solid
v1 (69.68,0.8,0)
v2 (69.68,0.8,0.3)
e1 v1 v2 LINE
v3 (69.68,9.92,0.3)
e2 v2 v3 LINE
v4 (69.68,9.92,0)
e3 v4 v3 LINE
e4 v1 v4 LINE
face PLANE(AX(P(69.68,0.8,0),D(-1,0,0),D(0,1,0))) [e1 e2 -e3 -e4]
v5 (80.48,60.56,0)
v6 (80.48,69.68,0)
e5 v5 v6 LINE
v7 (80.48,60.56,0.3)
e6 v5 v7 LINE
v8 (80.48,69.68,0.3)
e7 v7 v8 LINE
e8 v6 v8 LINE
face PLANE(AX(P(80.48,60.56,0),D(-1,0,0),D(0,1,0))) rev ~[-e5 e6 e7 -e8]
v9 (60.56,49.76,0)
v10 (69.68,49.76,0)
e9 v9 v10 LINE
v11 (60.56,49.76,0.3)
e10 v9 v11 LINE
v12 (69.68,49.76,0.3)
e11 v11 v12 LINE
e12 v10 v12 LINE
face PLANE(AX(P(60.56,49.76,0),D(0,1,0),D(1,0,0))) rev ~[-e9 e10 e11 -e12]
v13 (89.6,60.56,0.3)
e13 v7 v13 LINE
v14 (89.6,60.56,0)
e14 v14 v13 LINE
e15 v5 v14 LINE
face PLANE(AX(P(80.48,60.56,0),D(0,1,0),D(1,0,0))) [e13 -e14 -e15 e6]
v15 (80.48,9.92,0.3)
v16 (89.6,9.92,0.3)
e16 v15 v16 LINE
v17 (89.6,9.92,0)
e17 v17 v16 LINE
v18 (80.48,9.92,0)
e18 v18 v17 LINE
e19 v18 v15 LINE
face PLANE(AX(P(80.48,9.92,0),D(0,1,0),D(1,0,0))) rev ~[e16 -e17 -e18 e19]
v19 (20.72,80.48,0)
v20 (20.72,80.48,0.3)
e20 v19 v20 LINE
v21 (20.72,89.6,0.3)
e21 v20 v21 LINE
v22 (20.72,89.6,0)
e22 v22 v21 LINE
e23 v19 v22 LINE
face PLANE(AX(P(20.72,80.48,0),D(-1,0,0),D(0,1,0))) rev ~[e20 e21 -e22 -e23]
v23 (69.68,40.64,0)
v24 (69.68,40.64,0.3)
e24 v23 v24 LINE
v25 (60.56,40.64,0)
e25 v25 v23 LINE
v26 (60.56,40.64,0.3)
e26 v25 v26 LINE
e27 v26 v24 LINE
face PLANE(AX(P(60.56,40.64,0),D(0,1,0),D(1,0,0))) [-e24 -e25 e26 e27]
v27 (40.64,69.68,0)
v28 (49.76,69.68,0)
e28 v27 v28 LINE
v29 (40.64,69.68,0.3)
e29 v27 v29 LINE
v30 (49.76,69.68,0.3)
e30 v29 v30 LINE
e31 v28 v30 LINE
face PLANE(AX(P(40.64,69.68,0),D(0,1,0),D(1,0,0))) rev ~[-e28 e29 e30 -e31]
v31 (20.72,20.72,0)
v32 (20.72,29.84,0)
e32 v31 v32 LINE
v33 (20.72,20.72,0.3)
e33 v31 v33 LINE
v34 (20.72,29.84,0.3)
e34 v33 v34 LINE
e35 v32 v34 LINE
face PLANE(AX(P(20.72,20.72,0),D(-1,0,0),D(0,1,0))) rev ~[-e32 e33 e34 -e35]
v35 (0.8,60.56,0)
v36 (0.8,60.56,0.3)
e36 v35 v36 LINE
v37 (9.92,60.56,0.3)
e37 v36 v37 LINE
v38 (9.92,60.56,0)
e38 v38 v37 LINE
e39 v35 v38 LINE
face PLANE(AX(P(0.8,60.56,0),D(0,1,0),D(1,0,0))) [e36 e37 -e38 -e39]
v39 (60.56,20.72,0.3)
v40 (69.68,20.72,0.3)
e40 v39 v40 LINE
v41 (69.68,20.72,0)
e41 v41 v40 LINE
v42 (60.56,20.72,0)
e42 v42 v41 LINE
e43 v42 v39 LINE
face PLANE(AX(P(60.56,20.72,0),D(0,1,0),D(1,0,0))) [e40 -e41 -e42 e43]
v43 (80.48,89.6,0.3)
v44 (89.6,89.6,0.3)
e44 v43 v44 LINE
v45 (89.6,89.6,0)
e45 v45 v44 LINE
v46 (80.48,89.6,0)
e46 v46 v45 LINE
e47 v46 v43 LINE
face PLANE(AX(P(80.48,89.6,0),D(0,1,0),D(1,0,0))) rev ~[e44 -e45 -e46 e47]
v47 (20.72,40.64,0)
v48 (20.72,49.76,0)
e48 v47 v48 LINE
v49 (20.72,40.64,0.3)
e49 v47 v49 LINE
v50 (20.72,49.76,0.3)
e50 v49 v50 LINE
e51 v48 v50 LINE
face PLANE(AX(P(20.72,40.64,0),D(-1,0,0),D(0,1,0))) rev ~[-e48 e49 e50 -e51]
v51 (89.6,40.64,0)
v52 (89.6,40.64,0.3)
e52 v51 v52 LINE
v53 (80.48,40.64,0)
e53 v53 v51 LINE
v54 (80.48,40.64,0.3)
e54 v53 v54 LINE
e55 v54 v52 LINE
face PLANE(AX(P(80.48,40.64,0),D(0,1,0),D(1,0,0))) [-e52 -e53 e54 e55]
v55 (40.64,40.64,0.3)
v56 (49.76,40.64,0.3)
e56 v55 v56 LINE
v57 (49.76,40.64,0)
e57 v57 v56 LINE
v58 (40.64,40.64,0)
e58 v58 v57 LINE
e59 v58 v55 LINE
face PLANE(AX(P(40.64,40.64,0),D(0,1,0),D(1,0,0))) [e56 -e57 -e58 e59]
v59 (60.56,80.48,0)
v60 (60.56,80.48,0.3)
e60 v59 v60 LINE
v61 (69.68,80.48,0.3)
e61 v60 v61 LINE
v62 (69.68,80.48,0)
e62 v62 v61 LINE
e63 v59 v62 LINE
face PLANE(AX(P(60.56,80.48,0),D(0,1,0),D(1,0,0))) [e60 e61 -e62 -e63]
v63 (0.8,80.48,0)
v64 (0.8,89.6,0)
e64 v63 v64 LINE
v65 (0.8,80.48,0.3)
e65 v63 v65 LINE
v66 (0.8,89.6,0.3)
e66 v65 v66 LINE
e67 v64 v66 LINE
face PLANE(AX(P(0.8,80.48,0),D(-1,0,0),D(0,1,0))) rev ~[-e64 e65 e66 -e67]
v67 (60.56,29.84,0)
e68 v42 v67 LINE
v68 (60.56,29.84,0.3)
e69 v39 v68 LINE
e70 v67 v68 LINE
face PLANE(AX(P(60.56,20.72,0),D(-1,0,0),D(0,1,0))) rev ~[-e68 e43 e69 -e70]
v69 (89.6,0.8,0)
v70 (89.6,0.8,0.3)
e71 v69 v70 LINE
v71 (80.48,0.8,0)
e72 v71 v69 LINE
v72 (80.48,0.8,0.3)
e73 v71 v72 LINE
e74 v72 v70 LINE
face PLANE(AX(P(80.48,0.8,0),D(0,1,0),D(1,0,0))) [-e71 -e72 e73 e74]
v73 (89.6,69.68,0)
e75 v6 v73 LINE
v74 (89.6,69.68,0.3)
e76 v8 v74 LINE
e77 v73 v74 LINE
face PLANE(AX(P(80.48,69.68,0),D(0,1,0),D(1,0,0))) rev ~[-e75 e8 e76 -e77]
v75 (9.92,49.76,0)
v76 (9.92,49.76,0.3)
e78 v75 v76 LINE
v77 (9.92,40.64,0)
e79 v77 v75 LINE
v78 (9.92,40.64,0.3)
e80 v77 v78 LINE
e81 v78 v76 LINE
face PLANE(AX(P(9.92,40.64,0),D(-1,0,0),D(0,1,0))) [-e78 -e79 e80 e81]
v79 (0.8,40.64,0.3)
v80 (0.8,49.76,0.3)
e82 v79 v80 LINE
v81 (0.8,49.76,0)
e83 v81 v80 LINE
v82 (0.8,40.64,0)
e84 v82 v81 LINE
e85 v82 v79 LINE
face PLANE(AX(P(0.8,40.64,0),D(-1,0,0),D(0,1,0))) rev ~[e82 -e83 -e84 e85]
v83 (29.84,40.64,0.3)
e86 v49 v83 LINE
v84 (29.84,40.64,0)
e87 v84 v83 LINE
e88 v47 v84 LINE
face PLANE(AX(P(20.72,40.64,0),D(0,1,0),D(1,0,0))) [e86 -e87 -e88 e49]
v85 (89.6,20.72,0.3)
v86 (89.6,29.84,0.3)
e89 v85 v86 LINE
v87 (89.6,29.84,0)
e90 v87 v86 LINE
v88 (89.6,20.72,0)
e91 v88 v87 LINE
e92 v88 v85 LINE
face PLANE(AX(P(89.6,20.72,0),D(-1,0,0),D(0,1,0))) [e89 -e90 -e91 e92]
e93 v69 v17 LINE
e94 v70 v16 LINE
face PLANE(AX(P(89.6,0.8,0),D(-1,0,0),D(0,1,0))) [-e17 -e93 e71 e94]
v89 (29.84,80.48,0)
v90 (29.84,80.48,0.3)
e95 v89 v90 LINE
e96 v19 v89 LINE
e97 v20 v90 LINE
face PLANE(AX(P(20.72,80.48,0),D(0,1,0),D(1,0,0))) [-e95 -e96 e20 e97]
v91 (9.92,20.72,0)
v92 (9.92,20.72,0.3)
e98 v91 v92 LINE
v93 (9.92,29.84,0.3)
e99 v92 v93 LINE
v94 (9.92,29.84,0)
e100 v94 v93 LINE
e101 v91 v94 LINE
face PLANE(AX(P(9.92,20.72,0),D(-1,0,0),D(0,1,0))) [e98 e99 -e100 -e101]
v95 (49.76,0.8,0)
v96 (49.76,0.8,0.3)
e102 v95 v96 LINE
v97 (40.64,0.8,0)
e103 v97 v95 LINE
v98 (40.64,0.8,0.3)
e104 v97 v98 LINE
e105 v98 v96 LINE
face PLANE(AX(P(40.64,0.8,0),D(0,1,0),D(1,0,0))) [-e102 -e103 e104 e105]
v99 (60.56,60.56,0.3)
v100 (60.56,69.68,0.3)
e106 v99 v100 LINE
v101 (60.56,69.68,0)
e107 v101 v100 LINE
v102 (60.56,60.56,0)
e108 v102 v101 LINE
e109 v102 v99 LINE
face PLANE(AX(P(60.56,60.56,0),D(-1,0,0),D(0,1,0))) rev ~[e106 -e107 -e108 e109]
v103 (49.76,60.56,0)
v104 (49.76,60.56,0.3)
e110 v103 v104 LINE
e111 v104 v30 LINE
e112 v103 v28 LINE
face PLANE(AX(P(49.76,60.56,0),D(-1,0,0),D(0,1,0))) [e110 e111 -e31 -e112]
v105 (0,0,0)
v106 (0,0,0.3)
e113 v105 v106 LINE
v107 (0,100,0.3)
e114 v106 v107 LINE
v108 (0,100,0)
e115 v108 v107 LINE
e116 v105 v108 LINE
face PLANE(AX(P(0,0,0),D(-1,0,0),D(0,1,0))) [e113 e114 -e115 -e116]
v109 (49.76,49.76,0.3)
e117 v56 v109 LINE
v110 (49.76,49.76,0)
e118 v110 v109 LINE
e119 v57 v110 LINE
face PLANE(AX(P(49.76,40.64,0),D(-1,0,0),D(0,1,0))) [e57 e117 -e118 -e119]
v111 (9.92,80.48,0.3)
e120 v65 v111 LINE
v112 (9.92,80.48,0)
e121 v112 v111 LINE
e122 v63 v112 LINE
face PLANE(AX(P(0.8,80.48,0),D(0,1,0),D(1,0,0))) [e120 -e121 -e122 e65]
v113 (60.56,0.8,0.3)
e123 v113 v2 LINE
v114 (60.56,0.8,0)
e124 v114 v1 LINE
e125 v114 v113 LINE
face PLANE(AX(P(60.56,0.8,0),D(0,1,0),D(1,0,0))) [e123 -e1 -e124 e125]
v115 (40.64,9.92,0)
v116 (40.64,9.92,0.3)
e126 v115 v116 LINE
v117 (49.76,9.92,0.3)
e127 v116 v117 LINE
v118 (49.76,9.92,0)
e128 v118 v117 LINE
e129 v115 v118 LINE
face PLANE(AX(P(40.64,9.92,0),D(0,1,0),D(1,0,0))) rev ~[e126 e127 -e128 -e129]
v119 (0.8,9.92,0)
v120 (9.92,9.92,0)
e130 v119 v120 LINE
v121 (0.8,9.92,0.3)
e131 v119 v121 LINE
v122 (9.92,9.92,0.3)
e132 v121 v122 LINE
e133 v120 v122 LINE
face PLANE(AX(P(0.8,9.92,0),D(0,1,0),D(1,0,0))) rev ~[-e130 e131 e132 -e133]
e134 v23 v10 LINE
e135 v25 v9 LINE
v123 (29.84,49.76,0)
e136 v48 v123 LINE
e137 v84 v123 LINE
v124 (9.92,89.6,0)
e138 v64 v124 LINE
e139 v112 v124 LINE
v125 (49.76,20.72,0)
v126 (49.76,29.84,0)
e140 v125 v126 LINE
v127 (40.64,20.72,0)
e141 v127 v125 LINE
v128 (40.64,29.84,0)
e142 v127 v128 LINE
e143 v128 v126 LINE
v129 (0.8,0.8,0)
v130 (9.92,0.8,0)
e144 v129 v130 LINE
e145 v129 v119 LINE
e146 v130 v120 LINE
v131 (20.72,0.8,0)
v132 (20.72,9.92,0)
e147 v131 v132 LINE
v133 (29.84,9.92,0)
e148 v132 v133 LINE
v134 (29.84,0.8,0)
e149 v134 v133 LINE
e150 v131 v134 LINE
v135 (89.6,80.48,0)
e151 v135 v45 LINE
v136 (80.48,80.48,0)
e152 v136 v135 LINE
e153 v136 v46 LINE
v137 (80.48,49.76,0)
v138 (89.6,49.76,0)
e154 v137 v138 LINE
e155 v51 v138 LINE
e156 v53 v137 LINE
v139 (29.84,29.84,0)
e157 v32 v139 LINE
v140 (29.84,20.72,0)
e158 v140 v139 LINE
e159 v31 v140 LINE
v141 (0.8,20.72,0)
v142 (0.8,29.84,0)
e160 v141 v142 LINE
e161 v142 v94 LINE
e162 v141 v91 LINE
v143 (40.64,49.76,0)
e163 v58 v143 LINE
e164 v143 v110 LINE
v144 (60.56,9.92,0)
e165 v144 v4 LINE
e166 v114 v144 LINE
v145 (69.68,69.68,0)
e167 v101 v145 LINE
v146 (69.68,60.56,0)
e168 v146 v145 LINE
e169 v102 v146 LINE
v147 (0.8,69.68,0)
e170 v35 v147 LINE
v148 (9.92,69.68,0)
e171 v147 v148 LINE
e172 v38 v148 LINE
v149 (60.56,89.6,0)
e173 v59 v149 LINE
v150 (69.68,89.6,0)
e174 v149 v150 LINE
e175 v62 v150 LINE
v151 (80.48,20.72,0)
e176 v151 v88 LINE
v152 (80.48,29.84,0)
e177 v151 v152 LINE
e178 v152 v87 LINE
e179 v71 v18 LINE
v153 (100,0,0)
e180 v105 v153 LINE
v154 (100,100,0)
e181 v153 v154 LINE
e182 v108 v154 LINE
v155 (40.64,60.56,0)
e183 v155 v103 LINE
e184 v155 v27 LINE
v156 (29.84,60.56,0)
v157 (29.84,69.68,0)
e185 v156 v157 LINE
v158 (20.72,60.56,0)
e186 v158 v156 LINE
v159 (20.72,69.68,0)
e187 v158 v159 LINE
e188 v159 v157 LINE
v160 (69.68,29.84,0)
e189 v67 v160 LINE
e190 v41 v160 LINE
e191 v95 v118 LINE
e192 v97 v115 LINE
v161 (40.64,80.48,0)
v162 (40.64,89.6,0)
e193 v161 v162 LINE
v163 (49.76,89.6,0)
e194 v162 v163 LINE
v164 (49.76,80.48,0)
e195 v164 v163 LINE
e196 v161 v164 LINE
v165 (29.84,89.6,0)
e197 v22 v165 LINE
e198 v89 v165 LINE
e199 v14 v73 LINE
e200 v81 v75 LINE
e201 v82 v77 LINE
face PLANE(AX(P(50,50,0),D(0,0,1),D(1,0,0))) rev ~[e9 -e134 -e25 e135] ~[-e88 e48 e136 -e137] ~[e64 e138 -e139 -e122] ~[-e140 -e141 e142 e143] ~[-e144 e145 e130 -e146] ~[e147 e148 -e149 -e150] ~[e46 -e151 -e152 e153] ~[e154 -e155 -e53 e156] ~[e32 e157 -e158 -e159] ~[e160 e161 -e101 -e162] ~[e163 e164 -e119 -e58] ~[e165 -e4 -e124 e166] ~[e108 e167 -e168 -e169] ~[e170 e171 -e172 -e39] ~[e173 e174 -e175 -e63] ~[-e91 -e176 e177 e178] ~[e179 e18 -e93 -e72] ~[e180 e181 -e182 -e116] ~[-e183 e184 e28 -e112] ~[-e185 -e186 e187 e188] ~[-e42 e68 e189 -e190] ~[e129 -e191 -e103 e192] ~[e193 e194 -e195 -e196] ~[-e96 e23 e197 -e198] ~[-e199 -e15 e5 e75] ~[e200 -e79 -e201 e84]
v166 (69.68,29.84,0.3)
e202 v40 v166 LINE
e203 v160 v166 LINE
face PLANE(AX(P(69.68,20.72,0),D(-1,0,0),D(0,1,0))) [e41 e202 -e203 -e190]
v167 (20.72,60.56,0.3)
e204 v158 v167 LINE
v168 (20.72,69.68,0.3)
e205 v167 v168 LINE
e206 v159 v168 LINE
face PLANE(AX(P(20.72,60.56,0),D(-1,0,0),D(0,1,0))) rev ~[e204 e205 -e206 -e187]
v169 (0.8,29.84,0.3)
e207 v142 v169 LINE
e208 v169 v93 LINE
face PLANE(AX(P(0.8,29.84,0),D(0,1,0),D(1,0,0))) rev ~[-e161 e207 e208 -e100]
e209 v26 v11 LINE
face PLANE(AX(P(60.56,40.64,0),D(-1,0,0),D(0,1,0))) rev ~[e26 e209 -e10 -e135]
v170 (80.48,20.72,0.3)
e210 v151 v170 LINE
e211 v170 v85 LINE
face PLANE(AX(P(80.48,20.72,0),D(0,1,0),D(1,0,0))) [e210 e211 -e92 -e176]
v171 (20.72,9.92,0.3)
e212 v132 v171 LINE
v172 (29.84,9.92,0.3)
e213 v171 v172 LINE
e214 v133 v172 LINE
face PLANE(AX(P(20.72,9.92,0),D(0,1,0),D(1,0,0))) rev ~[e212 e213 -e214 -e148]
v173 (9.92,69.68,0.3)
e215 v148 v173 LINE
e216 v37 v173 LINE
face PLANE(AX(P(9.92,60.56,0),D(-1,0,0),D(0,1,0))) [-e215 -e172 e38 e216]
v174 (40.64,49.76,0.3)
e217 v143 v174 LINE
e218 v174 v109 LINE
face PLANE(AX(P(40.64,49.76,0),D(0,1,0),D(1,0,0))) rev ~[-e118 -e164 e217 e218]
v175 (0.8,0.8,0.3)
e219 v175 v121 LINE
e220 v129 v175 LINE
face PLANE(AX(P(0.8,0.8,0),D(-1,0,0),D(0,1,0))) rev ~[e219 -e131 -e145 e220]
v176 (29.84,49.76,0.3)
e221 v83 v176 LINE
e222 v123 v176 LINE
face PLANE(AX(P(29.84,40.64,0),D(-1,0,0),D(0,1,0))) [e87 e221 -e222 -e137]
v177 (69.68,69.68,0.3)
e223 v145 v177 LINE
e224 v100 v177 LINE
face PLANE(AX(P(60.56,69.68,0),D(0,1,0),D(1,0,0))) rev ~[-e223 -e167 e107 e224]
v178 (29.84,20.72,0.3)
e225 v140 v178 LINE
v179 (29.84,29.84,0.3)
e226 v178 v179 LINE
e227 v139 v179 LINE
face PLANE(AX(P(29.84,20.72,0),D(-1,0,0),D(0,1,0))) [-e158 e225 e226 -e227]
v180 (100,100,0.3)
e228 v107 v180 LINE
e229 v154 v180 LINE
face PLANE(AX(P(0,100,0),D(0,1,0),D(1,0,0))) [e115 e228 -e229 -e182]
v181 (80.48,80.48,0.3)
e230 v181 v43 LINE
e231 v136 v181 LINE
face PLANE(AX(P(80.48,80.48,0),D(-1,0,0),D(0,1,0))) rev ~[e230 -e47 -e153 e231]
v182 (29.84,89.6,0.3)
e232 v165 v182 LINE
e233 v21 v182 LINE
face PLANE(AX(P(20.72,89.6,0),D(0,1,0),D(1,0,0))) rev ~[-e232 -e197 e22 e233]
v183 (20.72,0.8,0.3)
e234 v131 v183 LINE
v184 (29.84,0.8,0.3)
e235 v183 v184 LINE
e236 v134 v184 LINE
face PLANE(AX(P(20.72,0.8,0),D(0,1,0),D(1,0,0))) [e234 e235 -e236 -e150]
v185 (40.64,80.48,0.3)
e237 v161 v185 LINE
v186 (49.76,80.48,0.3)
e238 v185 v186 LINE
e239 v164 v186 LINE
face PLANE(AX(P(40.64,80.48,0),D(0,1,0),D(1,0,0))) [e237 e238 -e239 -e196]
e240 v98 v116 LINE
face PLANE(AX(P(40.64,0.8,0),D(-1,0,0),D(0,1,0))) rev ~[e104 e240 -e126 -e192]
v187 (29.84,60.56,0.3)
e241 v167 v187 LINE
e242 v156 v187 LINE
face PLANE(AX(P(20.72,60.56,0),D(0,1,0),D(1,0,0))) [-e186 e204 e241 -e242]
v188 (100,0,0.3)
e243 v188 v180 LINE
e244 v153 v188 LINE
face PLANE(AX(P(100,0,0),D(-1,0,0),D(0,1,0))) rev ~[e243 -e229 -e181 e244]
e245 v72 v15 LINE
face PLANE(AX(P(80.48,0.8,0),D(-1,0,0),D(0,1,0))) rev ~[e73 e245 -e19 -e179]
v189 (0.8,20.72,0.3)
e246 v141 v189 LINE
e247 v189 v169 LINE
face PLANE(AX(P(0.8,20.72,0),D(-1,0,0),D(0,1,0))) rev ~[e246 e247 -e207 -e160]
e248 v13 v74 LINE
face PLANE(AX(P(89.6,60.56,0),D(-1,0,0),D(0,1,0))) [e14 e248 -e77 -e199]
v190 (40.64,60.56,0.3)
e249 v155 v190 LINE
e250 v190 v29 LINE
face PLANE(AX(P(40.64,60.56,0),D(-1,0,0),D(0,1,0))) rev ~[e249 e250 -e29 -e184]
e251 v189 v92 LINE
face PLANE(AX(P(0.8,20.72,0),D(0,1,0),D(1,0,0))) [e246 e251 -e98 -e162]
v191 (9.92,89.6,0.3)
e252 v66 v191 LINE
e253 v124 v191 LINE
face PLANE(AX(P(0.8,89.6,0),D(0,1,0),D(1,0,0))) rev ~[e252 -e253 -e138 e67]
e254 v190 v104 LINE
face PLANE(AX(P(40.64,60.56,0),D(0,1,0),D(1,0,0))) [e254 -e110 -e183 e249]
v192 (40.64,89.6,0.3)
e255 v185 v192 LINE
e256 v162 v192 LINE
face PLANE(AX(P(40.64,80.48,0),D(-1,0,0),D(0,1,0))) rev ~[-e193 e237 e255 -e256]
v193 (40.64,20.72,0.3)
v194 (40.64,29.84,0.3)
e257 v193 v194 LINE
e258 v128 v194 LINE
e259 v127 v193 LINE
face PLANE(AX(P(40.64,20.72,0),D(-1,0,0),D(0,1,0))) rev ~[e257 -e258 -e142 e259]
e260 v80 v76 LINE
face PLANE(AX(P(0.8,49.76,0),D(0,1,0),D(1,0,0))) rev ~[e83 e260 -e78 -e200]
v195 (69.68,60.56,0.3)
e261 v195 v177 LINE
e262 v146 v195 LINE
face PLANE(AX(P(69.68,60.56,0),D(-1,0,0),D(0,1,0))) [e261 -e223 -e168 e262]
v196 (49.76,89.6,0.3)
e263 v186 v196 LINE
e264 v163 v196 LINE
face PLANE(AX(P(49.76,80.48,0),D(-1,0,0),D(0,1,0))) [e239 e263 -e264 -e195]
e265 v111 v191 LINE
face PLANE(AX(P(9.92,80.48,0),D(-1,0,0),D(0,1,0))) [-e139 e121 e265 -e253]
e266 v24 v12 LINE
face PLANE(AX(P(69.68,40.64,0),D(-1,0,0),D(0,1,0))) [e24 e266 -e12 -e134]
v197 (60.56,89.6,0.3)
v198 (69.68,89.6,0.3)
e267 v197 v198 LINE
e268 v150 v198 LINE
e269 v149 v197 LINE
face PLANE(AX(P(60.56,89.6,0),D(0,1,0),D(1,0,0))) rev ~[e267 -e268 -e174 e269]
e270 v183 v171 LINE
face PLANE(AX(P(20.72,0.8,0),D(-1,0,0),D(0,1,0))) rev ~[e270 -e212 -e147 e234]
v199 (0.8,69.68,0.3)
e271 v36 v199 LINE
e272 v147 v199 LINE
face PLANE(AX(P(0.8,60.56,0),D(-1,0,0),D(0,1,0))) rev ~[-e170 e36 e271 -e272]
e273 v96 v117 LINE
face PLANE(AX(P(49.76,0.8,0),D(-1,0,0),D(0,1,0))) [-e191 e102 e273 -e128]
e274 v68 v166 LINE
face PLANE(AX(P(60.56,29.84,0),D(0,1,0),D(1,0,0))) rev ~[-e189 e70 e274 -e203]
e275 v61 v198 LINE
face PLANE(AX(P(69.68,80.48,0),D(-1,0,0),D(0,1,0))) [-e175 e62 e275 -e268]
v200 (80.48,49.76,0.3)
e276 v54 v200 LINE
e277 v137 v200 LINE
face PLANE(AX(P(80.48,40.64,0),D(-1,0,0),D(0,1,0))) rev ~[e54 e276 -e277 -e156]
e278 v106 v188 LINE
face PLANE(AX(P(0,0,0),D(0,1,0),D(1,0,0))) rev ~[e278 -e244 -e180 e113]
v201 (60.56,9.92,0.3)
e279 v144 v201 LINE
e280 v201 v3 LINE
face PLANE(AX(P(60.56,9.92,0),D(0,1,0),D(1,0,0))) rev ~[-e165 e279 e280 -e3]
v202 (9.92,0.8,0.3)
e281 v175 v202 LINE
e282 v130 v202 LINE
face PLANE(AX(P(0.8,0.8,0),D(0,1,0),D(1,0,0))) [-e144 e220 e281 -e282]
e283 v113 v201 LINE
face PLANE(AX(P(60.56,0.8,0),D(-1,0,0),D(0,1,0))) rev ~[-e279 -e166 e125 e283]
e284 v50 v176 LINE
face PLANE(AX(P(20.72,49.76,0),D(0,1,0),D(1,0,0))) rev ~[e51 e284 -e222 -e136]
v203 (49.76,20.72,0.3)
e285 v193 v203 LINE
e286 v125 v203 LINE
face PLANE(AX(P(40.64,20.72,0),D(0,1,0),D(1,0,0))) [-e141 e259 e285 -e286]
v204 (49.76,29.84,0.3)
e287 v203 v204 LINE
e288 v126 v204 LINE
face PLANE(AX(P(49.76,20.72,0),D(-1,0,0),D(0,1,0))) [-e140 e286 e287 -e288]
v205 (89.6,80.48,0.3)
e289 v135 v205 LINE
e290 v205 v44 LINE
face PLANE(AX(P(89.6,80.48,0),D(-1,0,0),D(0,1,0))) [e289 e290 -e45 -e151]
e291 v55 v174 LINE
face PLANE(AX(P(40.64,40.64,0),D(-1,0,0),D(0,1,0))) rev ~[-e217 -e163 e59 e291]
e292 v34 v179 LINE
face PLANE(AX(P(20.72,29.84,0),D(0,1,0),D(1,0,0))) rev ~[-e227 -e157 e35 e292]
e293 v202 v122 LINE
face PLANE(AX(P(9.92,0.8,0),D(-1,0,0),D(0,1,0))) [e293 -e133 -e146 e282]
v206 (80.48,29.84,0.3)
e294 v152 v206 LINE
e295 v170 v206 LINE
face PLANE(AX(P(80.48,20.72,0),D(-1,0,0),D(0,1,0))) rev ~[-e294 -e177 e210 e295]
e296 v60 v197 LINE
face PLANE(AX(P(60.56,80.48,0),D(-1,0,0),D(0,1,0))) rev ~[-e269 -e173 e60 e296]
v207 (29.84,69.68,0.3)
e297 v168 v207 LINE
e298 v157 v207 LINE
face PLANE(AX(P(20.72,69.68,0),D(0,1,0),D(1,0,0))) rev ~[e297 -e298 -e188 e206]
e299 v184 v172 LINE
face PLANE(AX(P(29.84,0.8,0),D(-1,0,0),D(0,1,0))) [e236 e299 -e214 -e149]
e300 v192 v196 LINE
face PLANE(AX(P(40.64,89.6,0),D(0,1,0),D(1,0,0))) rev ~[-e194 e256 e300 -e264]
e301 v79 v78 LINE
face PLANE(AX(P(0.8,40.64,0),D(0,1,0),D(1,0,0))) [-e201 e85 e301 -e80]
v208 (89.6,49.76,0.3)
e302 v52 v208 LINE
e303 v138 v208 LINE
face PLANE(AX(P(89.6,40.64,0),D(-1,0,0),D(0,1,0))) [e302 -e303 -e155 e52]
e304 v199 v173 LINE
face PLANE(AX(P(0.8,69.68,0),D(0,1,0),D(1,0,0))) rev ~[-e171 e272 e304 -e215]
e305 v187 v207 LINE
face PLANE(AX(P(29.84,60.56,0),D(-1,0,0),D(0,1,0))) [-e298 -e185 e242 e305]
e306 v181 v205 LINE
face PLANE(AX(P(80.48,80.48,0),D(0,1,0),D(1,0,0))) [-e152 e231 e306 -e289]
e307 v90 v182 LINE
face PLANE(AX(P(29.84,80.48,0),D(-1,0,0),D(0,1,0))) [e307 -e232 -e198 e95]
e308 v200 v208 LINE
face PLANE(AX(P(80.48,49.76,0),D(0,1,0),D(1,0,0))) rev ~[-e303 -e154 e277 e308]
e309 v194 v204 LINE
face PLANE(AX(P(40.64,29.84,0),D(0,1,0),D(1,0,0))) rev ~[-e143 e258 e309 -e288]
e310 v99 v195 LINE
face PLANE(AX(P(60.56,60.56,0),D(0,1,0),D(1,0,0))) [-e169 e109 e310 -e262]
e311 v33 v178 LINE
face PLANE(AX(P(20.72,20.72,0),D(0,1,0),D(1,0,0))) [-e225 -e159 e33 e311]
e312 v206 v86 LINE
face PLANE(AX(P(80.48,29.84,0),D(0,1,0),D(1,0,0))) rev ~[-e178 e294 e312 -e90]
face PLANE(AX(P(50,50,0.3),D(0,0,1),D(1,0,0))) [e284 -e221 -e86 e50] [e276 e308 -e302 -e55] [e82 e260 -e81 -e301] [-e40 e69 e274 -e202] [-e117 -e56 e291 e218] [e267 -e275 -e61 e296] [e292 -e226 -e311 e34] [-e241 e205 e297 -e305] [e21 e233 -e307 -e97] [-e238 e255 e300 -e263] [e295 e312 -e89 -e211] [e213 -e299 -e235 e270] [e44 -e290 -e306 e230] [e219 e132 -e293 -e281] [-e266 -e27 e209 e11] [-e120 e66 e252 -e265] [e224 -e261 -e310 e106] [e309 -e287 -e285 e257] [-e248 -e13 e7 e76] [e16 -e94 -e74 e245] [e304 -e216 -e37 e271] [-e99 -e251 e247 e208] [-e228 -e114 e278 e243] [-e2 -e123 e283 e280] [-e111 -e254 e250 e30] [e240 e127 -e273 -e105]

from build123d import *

# Parameters (mm, degrees)
F0_W     = 100
F0_H     = 100
F0_W_2   = 9.12
F0_H_2   = 9.12
F1_DEPTH = 0.3


with BuildPart() as f1:
    # F0 (on Top) → F1 (new body)
    with BuildSketch(Plane.XY):
        with Locations((50, 50)):
            Rectangle(F0_W, F0_H)
        with Locations((5.36, 5.36)):
            Rectangle(F0_W_2, F0_H_2, mode=Mode.SUBTRACT)
        with Locations((25.28, 5.36)):
            Rectangle(F0_W_2, F0_H_2, mode=Mode.SUBTRACT)
        with Locations((45.2, 5.36)):
            Rectangle(F0_W_2, F0_H_2, mode=Mode.SUBTRACT)
        with Locations((5.36, 25.28)):
            Rectangle(F0_W_2, F0_H_2, mode=Mode.SUBTRACT)
        with Locations((5.36, 45.2)):
            Rectangle(F0_W_2, F0_H_2, mode=Mode.SUBTRACT)
        with Locations((25.28, 25.28)):
            Rectangle(F0_W_2, F0_H_2, mode=Mode.SUBTRACT)
        with Locations((45.2, 25.28)):
            Rectangle(F0_W_2, F0_H_2, mode=Mode.SUBTRACT)
        with Locations((25.28, 45.2)):
            Rectangle(F0_W_2, F0_H_2, mode=Mode.SUBTRACT)
        with Locations((45.2, 45.2)):
            Rectangle(F0_W_2, F0_H_2, mode=Mode.SUBTRACT)
        with Locations((65.12, 5.36)):
            Rectangle(F0_W_2, F0_H_2, mode=Mode.SUBTRACT)
        with Locations((85.04, 5.36)):
            Rectangle(F0_W_2, F0_H_2, mode=Mode.SUBTRACT)
        with Locations((65.12, 25.28)):
            Rectangle(F0_W_2, F0_H_2, mode=Mode.SUBTRACT)
        with Locations((65.12, 45.2)):
            Rectangle(F0_W_2, F0_H_2, mode=Mode.SUBTRACT)
        with Locations((85.04, 25.28)):
            Rectangle(F0_W_2, F0_H_2, mode=Mode.SUBTRACT)
        with Locations((85.04, 45.2)):
            Rectangle(F0_W_2, F0_H_2, mode=Mode.SUBTRACT)
        with Locations((5.36, 65.12)):
            Rectangle(F0_W_2, F0_H_2, mode=Mode.SUBTRACT)
        with Locations((25.28, 65.12)):
            Rectangle(F0_W_2, F0_H_2, mode=Mode.SUBTRACT)
        with Locations((45.2, 65.12)):
            Rectangle(F0_W_2, F0_H_2, mode=Mode.SUBTRACT)
        with Locations((5.36, 85.04)):
            Rectangle(F0_W_2, F0_H_2, mode=Mode.SUBTRACT)
        with Locations((25.28, 85.04)):
            Rectangle(F0_W_2, F0_H_2, mode=Mode.SUBTRACT)
        with Locations((45.2, 85.04)):
            Rectangle(F0_W_2, F0_H_2, mode=Mode.SUBTRACT)
        with Locations((65.12, 65.12)):
            Rectangle(F0_W_2, F0_H_2, mode=Mode.SUBTRACT)
        with Locations((85.04, 65.12)):
            Rectangle(F0_W_2, F0_H_2, mode=Mode.SUBTRACT)
        with Locations((65.12, 85.04)):
            Rectangle(F0_W_2, F0_H_2, mode=Mode.SUBTRACT)
        with Locations((85.04, 85.04)):
            Rectangle(F0_W_2, F0_H_2, mode=Mode.SUBTRACT)
    extrude(amount=F1_DEPTH)


solid = f1.part
